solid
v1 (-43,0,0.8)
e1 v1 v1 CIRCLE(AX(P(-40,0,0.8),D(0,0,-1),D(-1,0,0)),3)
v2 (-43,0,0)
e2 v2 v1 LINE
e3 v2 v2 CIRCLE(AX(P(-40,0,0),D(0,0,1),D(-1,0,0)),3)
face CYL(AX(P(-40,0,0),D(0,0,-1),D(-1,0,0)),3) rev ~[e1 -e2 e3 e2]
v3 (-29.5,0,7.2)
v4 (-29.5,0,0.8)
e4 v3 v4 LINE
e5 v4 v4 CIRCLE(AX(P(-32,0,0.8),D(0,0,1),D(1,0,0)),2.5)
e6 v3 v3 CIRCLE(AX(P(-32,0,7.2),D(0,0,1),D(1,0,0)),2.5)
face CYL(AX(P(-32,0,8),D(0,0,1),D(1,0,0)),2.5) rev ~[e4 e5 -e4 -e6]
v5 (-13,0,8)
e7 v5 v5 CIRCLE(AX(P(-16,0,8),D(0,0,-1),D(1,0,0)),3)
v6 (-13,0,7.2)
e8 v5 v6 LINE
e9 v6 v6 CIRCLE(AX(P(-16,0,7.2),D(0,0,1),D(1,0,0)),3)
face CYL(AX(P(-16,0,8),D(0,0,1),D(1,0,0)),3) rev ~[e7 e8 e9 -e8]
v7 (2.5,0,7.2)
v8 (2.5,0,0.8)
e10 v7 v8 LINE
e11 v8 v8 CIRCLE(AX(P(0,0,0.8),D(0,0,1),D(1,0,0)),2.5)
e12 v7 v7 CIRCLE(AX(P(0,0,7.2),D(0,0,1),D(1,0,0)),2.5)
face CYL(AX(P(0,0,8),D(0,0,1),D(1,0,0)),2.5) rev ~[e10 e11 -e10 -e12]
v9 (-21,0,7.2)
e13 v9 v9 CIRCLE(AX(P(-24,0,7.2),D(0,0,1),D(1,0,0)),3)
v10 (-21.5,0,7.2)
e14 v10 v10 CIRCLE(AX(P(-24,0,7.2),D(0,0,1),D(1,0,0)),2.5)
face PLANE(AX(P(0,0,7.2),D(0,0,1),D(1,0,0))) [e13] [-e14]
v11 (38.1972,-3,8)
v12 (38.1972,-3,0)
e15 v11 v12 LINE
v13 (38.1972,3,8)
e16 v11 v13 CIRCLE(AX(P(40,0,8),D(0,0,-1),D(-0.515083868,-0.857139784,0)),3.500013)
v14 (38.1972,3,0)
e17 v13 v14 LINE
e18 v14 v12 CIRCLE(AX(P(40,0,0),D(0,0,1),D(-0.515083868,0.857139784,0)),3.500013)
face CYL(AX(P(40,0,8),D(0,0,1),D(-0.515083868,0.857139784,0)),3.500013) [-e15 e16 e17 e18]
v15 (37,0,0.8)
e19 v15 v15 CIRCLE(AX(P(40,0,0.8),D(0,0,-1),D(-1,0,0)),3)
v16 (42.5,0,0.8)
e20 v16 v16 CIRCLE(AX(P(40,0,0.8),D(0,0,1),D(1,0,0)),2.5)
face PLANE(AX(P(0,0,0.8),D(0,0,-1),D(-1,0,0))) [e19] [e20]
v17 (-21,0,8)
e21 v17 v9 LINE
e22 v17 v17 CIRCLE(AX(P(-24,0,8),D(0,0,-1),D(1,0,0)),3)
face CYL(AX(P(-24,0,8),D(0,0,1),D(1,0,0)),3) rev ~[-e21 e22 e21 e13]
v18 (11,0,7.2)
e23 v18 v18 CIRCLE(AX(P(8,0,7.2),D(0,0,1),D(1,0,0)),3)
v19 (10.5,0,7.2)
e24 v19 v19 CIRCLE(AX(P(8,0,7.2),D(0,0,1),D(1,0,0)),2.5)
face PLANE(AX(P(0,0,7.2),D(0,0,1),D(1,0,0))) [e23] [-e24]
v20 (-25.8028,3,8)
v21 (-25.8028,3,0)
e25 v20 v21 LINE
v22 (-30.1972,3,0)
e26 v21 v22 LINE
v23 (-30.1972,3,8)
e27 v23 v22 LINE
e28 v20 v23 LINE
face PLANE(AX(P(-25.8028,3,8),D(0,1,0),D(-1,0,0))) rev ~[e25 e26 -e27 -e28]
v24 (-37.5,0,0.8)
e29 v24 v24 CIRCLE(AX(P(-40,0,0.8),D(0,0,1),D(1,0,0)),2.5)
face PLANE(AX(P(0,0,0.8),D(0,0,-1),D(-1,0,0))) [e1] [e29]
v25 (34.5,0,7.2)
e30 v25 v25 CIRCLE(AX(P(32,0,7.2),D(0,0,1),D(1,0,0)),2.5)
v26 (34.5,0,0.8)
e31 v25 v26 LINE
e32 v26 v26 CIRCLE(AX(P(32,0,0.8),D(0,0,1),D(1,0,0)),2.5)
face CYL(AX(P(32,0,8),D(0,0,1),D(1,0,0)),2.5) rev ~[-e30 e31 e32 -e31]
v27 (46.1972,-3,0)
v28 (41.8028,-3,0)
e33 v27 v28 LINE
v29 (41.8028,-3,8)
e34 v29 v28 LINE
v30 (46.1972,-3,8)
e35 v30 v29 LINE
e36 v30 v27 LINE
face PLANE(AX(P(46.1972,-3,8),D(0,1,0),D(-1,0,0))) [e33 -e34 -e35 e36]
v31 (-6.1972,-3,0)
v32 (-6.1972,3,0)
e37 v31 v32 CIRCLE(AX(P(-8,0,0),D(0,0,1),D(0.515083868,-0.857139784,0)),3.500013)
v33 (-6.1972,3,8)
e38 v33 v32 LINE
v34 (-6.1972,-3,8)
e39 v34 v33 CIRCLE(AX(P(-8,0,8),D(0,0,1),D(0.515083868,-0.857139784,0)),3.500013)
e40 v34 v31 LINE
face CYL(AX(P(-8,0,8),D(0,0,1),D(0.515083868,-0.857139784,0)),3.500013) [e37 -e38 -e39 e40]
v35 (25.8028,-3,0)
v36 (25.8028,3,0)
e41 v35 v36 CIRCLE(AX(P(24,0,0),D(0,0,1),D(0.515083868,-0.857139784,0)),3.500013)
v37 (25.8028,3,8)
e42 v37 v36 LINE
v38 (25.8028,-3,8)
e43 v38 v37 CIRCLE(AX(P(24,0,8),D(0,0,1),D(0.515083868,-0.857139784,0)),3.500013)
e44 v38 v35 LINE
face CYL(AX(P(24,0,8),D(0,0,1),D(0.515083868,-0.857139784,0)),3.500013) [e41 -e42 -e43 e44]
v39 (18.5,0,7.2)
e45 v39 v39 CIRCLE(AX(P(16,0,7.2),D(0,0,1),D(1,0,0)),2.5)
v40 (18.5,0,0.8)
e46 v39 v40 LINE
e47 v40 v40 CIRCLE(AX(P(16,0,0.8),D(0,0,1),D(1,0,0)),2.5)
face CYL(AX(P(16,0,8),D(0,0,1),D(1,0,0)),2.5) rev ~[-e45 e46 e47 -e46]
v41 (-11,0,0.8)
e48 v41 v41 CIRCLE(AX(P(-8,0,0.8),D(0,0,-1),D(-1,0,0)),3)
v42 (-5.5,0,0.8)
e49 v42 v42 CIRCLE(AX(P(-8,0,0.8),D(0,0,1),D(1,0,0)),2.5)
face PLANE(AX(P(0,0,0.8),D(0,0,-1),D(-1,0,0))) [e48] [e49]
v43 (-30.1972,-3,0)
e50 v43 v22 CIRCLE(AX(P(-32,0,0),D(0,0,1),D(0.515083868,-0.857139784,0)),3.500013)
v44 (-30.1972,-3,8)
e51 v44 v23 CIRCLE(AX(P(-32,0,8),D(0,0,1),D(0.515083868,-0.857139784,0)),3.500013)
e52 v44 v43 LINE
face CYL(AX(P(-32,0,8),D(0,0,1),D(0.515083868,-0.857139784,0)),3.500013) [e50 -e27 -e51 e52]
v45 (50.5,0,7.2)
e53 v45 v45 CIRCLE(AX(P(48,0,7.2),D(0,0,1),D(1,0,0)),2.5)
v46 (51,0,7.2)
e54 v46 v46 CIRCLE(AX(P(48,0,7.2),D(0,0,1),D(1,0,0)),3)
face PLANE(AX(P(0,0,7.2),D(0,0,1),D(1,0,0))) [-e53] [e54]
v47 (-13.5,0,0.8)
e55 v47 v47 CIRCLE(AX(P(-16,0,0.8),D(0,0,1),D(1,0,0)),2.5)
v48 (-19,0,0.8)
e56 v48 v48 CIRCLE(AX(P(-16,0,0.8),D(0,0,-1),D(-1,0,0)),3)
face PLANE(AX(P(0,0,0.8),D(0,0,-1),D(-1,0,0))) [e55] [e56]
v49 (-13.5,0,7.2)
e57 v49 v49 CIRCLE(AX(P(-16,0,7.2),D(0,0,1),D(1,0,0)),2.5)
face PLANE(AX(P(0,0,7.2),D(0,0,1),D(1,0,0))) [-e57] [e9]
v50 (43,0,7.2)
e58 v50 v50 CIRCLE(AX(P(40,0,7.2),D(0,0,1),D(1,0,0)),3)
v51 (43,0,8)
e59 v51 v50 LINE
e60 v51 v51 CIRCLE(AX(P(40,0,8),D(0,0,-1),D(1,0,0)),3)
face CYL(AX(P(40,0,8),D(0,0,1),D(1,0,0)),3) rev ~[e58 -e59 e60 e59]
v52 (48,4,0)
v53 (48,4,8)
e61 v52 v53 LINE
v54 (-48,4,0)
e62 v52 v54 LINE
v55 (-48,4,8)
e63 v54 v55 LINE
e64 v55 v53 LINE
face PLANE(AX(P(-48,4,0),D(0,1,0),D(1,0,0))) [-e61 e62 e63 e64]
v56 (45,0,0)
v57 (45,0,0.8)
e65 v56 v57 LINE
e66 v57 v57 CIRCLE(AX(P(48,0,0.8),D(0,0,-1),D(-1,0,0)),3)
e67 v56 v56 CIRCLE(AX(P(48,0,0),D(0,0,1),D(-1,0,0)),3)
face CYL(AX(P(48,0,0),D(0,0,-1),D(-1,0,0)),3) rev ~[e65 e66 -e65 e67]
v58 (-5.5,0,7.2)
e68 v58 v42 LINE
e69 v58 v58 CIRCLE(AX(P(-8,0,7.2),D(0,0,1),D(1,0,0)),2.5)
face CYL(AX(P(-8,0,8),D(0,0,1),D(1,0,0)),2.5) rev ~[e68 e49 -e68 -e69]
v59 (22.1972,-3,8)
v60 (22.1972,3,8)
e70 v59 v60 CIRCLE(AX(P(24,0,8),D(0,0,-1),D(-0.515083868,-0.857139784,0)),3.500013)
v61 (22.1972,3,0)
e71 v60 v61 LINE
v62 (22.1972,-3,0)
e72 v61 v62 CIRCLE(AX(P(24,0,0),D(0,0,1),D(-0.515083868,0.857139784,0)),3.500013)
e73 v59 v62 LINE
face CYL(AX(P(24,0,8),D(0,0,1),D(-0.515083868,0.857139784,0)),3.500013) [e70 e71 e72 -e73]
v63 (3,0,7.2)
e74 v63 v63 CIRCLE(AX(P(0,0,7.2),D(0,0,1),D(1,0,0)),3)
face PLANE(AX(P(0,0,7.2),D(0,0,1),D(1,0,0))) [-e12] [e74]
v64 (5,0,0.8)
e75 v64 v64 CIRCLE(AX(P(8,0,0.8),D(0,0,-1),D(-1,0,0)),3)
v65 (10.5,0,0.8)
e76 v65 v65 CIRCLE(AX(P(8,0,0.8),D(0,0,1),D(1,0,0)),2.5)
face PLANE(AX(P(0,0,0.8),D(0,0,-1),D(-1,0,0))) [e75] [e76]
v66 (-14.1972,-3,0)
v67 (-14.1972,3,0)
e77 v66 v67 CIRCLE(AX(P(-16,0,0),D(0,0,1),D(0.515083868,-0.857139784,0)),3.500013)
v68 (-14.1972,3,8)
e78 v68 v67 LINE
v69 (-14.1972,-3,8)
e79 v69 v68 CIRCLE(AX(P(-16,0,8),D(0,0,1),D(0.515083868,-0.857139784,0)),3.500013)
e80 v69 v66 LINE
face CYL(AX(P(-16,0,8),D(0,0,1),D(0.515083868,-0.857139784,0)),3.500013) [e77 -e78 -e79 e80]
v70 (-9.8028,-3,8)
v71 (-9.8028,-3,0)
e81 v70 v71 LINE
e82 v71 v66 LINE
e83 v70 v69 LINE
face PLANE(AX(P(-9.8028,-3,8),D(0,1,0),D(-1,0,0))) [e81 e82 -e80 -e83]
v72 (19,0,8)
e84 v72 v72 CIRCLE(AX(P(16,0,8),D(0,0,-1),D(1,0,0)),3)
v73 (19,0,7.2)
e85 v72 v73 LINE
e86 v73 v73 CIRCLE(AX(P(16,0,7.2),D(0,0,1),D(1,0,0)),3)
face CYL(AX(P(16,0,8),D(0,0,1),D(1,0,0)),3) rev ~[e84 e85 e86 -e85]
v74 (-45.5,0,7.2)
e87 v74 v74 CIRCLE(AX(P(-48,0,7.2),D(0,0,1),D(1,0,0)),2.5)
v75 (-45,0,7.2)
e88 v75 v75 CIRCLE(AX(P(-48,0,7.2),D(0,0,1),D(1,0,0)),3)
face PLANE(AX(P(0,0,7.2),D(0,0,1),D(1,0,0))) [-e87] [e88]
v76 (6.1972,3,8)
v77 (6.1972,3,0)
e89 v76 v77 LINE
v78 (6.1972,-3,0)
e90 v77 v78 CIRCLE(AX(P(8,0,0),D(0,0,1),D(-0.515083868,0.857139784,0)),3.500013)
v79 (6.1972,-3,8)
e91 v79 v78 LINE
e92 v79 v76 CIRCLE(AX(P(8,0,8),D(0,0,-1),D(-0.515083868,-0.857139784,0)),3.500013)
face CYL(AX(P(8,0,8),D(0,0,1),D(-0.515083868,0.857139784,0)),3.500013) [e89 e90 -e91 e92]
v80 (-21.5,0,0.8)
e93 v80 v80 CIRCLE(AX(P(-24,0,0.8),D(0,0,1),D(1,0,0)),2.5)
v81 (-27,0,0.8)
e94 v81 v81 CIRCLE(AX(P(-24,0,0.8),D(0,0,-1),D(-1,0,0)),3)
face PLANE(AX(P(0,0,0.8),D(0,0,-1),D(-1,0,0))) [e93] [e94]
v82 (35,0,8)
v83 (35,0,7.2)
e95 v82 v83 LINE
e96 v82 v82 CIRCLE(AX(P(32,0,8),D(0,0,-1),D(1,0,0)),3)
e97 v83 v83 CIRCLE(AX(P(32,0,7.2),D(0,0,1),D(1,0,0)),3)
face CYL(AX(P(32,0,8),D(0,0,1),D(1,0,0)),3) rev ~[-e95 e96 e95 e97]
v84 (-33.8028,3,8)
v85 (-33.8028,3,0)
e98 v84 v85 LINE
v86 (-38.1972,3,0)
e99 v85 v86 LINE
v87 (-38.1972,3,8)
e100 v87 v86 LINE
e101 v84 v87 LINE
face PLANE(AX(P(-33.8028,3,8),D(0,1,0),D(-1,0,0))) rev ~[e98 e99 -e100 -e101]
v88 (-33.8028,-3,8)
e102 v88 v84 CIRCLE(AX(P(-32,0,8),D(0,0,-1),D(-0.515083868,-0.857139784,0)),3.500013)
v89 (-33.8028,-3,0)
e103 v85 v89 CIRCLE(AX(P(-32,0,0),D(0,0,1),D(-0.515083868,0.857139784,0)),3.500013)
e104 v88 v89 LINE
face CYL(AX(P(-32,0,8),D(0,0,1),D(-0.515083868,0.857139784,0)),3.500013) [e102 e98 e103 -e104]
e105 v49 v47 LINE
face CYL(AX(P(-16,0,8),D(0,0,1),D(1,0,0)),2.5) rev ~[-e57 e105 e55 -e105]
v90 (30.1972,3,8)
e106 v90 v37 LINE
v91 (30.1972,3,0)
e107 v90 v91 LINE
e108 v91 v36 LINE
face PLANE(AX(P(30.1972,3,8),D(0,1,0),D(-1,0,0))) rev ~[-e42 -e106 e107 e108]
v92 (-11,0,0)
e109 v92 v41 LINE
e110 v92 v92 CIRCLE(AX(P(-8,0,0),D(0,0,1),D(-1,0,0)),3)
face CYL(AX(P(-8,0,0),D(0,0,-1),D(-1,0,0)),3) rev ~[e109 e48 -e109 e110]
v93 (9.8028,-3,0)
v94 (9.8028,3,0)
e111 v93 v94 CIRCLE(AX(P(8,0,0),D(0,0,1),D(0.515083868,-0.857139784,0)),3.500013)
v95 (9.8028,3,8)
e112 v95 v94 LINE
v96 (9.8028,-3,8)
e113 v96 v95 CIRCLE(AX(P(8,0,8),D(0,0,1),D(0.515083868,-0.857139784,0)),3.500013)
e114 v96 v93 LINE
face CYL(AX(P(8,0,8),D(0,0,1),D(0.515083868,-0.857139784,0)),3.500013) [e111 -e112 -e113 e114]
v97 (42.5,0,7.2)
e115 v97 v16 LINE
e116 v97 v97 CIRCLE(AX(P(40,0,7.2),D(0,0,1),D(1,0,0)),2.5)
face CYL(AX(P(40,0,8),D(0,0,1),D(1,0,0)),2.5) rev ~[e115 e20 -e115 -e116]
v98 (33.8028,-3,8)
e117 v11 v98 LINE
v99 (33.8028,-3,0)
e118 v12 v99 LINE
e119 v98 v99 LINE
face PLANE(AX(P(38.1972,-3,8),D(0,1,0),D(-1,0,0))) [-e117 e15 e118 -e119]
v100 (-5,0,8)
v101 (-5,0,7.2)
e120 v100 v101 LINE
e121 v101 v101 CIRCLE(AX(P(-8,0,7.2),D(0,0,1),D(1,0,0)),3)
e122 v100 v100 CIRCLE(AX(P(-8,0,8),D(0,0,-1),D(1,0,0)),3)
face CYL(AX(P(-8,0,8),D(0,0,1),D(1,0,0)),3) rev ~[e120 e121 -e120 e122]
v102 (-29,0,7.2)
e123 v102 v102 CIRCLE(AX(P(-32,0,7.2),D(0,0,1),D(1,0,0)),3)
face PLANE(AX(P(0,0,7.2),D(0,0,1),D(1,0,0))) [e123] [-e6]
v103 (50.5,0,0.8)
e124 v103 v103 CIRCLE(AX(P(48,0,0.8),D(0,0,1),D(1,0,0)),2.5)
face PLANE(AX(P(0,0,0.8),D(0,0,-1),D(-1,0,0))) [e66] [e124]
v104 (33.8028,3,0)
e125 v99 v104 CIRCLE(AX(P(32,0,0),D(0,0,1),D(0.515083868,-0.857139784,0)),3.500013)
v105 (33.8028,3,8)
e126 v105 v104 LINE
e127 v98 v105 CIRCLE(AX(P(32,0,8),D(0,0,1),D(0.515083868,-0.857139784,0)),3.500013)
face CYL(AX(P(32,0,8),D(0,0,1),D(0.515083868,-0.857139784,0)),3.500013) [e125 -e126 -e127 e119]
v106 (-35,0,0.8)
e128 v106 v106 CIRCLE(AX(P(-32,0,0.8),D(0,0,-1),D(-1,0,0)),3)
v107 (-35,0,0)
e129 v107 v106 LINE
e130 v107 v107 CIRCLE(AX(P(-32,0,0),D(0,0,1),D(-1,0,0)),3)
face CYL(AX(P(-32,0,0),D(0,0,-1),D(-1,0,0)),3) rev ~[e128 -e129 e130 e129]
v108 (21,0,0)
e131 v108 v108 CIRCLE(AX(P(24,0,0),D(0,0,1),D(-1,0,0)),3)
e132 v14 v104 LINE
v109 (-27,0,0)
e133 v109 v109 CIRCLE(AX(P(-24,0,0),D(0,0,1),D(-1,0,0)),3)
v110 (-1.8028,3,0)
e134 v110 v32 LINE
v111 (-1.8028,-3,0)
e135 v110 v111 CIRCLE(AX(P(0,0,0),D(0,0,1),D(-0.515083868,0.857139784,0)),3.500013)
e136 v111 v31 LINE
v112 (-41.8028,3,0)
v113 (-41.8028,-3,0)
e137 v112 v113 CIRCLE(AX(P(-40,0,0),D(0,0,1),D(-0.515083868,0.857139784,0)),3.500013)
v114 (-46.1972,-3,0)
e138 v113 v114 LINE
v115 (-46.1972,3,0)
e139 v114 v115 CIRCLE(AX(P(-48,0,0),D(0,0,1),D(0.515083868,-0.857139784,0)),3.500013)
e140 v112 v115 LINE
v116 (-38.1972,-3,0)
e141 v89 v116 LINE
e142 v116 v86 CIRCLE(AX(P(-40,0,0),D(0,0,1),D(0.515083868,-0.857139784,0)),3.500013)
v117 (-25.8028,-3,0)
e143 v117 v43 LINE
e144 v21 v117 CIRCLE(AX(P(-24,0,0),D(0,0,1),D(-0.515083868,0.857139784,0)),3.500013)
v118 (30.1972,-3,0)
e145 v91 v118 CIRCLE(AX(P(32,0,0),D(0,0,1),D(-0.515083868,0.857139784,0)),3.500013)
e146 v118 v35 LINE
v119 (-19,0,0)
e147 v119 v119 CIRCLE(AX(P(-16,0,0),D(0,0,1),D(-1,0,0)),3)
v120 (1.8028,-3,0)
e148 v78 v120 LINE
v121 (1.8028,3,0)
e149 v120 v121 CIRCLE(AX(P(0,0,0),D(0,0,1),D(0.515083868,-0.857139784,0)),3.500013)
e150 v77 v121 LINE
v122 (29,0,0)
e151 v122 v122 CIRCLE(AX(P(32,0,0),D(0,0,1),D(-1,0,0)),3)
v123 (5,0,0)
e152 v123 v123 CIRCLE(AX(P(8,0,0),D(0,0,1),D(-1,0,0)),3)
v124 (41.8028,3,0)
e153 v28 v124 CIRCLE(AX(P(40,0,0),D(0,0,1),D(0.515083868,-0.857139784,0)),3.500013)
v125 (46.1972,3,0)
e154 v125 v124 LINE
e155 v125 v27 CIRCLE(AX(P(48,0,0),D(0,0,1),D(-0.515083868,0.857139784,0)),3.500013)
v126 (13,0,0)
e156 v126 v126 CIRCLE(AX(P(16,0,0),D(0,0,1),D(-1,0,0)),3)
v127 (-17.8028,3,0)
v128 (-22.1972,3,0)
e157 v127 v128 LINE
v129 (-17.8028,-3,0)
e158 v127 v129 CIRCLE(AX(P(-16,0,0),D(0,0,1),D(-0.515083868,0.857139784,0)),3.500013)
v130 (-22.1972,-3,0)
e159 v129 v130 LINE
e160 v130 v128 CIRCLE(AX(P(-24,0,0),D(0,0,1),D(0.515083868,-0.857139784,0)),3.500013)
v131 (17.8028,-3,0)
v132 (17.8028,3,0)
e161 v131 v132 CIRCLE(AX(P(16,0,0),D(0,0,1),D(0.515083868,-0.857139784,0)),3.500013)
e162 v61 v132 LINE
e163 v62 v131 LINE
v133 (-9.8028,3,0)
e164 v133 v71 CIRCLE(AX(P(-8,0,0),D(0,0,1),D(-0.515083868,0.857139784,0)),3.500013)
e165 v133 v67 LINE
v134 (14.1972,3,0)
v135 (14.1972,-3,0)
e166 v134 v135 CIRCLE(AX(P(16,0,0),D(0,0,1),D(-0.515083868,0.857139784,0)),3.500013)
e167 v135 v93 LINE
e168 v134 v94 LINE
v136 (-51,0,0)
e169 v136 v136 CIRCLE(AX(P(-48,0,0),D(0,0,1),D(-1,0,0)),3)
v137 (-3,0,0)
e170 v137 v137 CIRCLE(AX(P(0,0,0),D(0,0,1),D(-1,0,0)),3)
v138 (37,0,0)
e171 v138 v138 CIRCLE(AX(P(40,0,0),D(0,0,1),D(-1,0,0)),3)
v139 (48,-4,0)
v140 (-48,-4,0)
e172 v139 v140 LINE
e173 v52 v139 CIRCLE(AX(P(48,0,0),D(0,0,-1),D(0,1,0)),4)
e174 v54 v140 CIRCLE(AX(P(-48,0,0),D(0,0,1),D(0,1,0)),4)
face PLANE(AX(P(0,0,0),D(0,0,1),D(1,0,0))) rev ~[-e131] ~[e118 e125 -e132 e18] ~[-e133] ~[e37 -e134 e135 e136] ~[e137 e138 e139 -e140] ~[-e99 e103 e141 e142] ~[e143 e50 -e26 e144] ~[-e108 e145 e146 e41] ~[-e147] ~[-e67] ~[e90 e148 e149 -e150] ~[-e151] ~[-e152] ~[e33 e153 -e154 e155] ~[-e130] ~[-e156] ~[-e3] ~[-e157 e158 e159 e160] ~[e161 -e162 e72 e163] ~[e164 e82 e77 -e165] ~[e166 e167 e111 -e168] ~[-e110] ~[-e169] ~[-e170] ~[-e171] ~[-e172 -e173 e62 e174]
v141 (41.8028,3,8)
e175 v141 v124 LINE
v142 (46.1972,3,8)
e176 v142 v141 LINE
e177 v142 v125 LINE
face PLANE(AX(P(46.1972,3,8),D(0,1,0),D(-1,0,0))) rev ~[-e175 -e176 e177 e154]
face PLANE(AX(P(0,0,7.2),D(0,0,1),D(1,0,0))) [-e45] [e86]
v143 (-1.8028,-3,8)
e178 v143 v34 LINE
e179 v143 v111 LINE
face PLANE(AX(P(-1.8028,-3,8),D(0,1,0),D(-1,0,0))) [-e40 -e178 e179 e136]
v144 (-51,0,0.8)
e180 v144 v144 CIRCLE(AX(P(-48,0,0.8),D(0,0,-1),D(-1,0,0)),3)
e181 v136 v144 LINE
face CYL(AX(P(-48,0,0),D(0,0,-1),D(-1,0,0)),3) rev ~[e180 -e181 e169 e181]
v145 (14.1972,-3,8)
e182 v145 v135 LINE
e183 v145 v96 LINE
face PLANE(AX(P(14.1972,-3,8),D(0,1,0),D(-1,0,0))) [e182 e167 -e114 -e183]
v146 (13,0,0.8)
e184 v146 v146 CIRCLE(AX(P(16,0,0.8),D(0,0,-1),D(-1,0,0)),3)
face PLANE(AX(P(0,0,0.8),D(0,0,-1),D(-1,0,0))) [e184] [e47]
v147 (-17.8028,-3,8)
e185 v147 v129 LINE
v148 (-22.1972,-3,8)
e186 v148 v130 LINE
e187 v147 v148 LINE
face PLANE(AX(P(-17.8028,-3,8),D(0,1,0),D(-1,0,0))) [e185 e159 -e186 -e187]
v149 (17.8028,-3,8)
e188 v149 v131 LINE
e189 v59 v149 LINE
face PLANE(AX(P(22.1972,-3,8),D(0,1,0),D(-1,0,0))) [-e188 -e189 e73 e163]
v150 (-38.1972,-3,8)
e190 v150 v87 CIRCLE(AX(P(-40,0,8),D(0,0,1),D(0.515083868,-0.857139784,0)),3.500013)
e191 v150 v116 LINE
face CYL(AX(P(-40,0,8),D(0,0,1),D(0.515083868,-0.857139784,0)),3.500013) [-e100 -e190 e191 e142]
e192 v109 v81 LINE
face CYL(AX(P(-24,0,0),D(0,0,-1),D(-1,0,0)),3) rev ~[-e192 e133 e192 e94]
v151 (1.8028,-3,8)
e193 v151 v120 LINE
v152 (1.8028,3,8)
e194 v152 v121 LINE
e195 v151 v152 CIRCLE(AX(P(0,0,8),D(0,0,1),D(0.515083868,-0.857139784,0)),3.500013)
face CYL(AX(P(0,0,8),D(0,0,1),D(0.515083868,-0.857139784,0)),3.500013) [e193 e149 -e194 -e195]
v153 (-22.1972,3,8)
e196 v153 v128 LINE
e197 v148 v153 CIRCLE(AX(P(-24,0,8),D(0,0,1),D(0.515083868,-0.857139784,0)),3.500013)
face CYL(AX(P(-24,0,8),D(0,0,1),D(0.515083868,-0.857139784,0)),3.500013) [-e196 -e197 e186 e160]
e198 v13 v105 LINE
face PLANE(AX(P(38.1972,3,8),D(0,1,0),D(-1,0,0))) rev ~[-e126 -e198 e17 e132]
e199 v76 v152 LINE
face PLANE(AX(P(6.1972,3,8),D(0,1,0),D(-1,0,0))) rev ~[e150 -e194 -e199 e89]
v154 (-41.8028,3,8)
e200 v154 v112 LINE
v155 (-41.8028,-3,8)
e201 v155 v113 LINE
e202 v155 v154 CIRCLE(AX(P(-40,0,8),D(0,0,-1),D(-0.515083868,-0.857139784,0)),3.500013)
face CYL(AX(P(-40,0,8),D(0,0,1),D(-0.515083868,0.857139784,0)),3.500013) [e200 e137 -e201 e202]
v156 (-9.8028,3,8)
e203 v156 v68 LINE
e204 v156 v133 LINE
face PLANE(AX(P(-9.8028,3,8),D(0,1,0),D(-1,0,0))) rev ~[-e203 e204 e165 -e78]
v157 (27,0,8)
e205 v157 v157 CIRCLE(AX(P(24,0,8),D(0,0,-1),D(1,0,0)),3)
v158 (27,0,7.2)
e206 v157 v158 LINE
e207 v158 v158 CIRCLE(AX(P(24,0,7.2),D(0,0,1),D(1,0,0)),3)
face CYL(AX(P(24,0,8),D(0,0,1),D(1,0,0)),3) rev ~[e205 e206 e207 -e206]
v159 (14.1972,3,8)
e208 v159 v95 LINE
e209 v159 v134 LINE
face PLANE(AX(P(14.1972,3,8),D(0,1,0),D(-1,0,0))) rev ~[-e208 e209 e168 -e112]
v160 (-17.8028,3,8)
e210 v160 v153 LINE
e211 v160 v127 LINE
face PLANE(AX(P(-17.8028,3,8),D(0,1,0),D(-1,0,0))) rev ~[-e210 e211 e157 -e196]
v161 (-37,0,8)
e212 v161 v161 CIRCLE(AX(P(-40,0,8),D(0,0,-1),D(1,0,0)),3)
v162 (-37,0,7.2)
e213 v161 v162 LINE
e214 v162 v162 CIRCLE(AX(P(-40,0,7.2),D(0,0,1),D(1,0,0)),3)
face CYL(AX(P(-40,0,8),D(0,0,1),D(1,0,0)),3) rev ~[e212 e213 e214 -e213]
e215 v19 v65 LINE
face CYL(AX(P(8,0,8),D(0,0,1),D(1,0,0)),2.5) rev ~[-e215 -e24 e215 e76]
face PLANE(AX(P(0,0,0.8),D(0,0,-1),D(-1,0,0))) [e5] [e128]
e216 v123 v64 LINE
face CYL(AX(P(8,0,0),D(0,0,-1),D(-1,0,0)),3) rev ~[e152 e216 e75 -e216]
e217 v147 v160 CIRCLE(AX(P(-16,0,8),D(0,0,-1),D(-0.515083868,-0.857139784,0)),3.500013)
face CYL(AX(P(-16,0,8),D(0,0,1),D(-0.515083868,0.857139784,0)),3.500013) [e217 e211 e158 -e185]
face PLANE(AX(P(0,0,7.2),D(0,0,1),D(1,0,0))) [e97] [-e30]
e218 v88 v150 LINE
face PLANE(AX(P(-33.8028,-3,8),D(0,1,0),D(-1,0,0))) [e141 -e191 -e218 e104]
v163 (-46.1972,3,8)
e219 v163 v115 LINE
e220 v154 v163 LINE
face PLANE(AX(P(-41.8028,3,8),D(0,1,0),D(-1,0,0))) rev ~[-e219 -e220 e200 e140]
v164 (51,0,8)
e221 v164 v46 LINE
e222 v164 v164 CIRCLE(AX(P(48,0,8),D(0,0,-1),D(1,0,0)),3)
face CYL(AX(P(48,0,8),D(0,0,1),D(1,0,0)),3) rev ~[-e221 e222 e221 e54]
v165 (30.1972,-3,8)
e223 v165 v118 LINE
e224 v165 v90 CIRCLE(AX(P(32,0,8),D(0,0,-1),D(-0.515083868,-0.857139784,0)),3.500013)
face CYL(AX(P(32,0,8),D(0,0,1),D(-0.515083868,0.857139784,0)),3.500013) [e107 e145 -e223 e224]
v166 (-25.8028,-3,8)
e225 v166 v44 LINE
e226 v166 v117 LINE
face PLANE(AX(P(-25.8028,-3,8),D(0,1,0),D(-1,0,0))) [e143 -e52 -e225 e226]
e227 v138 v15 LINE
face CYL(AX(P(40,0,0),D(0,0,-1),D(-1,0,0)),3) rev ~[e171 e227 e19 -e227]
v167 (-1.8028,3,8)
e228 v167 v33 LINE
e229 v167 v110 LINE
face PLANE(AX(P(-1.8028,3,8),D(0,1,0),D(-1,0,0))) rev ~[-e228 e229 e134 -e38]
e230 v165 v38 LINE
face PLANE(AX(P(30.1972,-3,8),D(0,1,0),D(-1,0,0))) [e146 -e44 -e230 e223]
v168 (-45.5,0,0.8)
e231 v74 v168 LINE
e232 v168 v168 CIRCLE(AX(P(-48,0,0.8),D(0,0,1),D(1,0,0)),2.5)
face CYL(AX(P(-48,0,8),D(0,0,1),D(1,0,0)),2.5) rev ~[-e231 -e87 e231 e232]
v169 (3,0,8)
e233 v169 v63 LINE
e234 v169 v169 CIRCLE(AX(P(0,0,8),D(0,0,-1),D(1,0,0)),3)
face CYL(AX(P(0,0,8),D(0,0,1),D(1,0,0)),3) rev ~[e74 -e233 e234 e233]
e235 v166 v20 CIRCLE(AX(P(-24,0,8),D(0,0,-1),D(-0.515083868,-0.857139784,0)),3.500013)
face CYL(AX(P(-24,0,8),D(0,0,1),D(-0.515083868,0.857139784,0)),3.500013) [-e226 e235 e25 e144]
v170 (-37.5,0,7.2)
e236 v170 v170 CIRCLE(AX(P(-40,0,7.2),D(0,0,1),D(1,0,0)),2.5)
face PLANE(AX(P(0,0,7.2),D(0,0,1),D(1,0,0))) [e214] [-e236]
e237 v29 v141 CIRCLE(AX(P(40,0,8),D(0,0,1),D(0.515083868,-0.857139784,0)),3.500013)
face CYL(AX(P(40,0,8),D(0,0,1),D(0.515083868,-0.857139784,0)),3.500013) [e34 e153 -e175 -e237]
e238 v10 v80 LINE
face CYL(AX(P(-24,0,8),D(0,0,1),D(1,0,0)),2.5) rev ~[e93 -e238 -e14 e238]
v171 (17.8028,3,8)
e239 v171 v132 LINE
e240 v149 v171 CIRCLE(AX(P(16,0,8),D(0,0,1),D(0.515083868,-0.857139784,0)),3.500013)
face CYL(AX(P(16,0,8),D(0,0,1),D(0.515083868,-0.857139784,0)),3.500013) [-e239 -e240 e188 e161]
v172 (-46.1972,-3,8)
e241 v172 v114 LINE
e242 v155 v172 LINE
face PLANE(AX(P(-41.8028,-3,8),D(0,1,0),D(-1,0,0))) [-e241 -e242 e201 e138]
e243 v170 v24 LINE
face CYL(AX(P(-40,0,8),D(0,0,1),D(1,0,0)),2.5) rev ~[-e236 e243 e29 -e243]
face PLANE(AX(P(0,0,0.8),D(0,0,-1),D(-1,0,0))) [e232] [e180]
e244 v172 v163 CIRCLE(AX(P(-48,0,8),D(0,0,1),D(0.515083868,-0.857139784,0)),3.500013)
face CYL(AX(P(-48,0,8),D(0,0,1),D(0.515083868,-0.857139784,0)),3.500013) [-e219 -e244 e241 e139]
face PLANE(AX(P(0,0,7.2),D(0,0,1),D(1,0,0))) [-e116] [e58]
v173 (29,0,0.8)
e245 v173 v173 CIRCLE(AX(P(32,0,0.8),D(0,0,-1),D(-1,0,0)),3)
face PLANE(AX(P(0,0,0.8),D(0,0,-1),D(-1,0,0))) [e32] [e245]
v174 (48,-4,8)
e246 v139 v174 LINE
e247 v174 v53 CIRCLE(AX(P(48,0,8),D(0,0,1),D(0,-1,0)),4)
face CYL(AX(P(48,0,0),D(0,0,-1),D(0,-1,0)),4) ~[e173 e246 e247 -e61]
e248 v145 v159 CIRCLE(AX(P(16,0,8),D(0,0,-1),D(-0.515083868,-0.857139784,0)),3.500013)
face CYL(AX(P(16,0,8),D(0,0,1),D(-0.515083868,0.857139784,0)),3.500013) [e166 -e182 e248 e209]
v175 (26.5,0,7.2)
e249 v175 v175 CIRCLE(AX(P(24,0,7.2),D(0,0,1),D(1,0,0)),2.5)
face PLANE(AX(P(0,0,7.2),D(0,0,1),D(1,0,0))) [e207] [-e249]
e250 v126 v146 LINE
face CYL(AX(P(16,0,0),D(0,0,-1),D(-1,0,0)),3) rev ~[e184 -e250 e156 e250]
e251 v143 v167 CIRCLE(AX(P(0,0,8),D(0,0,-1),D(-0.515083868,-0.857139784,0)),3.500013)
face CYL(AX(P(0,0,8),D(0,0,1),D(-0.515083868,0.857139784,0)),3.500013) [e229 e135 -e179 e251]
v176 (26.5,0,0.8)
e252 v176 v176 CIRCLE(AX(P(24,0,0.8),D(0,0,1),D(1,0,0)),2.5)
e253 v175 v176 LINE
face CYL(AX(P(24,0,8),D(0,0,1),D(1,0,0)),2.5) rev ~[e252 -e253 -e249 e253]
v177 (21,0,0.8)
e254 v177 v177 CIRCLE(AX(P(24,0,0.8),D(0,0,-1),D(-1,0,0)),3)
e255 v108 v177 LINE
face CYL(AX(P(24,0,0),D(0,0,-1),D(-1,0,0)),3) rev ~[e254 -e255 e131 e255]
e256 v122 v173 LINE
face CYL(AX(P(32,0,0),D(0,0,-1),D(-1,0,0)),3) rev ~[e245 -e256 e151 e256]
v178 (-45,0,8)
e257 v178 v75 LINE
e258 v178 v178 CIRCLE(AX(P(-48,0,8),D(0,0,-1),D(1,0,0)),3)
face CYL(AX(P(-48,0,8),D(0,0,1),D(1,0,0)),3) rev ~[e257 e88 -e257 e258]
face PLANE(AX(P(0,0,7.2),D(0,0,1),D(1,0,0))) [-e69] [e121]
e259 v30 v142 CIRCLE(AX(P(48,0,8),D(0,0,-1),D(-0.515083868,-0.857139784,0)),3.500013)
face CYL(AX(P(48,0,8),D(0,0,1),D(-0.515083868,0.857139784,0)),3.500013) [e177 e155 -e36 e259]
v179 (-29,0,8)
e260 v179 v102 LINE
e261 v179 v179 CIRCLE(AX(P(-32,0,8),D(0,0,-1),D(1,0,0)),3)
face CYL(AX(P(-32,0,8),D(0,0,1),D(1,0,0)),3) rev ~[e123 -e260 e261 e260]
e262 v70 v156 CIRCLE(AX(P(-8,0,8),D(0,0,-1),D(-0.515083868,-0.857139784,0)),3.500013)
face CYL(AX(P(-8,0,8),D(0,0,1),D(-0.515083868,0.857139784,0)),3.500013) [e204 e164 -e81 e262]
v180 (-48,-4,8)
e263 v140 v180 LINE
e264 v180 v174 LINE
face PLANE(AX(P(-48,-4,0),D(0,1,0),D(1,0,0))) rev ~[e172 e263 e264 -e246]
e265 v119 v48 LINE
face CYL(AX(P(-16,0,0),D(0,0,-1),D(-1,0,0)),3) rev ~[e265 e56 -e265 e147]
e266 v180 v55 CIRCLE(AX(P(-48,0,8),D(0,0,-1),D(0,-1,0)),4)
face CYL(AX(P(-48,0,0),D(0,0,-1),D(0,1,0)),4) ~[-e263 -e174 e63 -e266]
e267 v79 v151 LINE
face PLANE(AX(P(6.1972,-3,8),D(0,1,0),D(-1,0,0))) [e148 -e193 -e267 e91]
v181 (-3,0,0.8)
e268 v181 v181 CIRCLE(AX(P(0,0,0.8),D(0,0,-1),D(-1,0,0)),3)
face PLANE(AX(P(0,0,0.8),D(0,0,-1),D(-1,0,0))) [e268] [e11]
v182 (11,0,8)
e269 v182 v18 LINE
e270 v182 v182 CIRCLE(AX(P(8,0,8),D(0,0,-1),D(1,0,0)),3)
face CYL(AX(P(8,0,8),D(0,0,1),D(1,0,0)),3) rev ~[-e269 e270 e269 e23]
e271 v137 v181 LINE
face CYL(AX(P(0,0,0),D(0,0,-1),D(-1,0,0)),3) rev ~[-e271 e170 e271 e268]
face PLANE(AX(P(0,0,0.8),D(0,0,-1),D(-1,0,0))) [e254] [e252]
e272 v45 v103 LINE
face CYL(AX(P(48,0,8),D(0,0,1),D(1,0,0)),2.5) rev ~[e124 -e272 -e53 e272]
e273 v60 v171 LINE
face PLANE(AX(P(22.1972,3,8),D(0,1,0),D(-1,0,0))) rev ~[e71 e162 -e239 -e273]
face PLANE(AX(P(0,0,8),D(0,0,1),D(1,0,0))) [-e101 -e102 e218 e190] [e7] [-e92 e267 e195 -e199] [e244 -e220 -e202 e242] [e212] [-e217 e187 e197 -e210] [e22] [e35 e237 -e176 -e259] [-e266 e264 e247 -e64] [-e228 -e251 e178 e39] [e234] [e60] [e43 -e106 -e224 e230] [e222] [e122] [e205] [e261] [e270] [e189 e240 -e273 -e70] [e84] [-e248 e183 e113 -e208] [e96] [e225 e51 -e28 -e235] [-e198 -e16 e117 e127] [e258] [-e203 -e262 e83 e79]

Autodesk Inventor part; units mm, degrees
ref_plane "YZ Plane" through (0, 0, 0) normal (1, 0, 0) x (0, 1, 0)
ref_plane "XZ Plane" through (0, 0, 0) normal (0, 1, 0) x (-1, 0, 0)
ref_plane "XY Plane" through (0, 0, 0) normal (0, 0, 1) x (1, 0, 0)
sketch "Sketch2" plane through (0, 0, 0) normal (0, 0, 1) x (1, 0, 0)
  arc A0 (-48, 4) -> (-48, -4) centre (-48, 0) ccw
  arc A1 (48, -4) -> (48, 4) centre (48, 0) ccw
  line L0 (-48, 4) -> (48, 4)
  line L1 (-48, -4) -> (48, -4)
  line L2 (-72.8, 0) -> (72.8, 0) projected
  line L3 (0, -5.6) -> (0, 5.6) projected
  point P0 (0, 0)
  dimension "d0" = 4
  dimension "d1" = 4
  dimension "d2" = 96
  dimension "d3" = 0
  dimension "d4" = 48
  dimension "d9" = 180
  dimension "d10" = 0
  dimension "d225" = 96
extrude "Extrusion1" add sketch "Sketch2" along normal blind 8
sketch "Sketch23" plane through (0, 0, 8) normal (0, 0, 1) x (1, 0, 0)
  arc A0 (-48, 4) -> (-48, -4) centre (-48, 0) ccw projected
  circle A1 centre (-48, 0) radius 2.5
  line L0 (-72.8, 0) -> (72.8, 0) projected
  circle A2 centre (-40, 0) radius 2.5
  circle A3 centre (-32, 0) radius 2.5
  circle A4 centre (-24, 0) radius 2.5
  circle A5 centre (-16, 0) radius 2.5
  circle A6 centre (-8, 0) radius 2.5
  circle A7 centre (0, 0) radius 2.5
  circle A8 centre (8, 0) radius 2.5
  circle A9 centre (16, 0) radius 2.5
  circle A10 centre (24, 0) radius 2.5
  circle A11 centre (32, 0) radius 2.5
  circle A12 centre (40, 0) radius 2.5
  circle A13 centre (48, 0) radius 2.5
  dimension "d226" = 5
  dimension "d232" = 8
extrude "Extrusion22" cut sketch "Sketch23" against normal through all
sketch "Sketch24" plane through (0, 0, 8) normal (0, 0, 1) x (1, 0, 0)
  circle A0 centre (48, 0) radius 2.5 projected
  circle A1 centre (40, 0) radius 2.5 projected
  circle A2 centre (32, 0) radius 2.5 projected
  circle A3 centre (24, 0) radius 2.5 projected
  circle A4 centre (16, 0) radius 2.5 projected
  circle A5 centre (8, 0) radius 2.5 projected
  circle A6 centre (0, 0) radius 2.5 projected
  circle A7 centre (-8, 0) radius 2.5 projected
  circle A8 centre (-16, 0) radius 2.5 projected
  circle A9 centre (-24, 0) radius 2.5 projected
  circle A10 centre (-32, 0) radius 2.5 projected
  circle A11 centre (-40, 0) radius 2.5 projected
  circle A12 centre (-48, 0) radius 2.5 projected
  arc A13 (-48, 4) -> (-48, -4) centre (-48, 0) ccw projected
  circle A14 centre (-48, 0) radius 3
  line L0 (-72.8, 0) -> (72.8, 0) projected
  circle A15 centre (-40, 0) radius 3
  circle A16 centre (-32, 0) radius 3
  circle A17 centre (-24, 0) radius 3
  circle A18 centre (-16, 0) radius 3
  circle A19 centre (-8, 0) radius 3
  circle A20 centre (0, 0) radius 3
  circle A21 centre (8, 0) radius 3
  circle A22 centre (16, 0) radius 3
  circle A23 centre (24, 0) radius 3
  circle A24 centre (32, 0) radius 3
  circle A25 centre (40, 0) radius 3
  circle A26 centre (48, 0) radius 3
  dimension "d236" = 6
  dimension "d242" = 8
extrude "Extrusion23" cut sketch "Sketch24" against normal blind 0.8 contours L0 A26 A0 | A0 L0 A26 | A14 L0 A12 | L0 A12 A14 | A15 L0 A11 | L0 A11 A15 | A16 L0 A10 | L0 A10 A16 | A17 L0 A9 | L0 A9 A17 | A18 L0 A8 | L0 A8 A18 | A19 L0 A7 | L0 A7 A19 | A20 L0 A6 | L0 A6 A20 | A21 L0 A5 | L0 A5 A21 | A22 L0 A4 | L0 A4 A22 | A23 L0 A3 | L0 A3 A23 | A24 L0 A2 | L0 A2 A24 | A25 L0 A1 | L0 A1 A25
sketch "Sketch25" plane through (0, 0, 0) normal (0, 0, -1) x (-1, 0, 0)
  circle A0 centre (-48, 0) radius 2.5 projected
  circle A1 centre (-40, 0) radius 2.5 projected
  circle A2 centre (-32, 0) radius 2.5 projected
  circle A3 centre (-24, 0) radius 2.5 projected
  circle A4 centre (-16, 0) radius 2.5 projected
  circle A5 centre (-8, 0) radius 2.5 projected
  circle A6 centre (0, 0) radius 2.5 projected
  circle A7 centre (8, 0) radius 2.5 projected
  circle A8 centre (16, 0) radius 2.5 projected
  circle A9 centre (24, 0) radius 2.5 projected
  circle A10 centre (32, 0) radius 2.5 projected
  circle A11 centre (40, 0) radius 2.5 projected
  circle A12 centre (48, 0) radius 2.5 projected
  arc A13 (-48, 4) -> (-48, -4) centre (-48, 0) ccw projected
  circle A14 centre (-48, 0) radius 3
  line L0 (72.8, 0) -> (-72.8, 0) projected
  circle A15 centre (-40, 0) radius 3
  circle A16 centre (-32, 0) radius 3
  circle A17 centre (-24, 0) radius 3
  circle A18 centre (-16, 0) radius 3
  circle A19 centre (-8, 0) radius 3
  circle A20 centre (0, 0) radius 3
  circle A21 centre (8, 0) radius 3
  circle A22 centre (16, 0) radius 3
  circle A23 centre (24, 0) radius 3
  circle A24 centre (32, 0) radius 3
  circle A25 centre (40, 0) radius 3
  circle A26 centre (48, 0) radius 3
  dimension "d246" = 6
  dimension "d252" = 8
extrude "Extrusion24" cut sketch "Sketch25" against normal blind 0.8 contours L0 A14 A0 | A0 L0 A14 | A26 L0 A12 | L0 A12 A26 | A25 L0 A11 | L0 A11 A25 | A24 L0 A10 | L0 A10 A24 | A23 L0 A9 | L0 A9 A23 | A22 L0 A8 | L0 A8 A22 | A21 L0 A7 | L0 A7 A21 | A20 L0 A6 | L0 A6 A20 | A19 L0 A5 | L0 A5 A19 | A18 L0 A4 | L0 A4 A18 | A17 L0 A3 | L0 A3 A17 | A16 L0 A2 | L0 A2 A16 | A15 L0 A1 | L0 A1 A15
sketch "Sketch26" plane through (0, 0, 8) normal (0, 0, 1) x (1, 0, 0)
  circle A0 centre (-48, 0) radius 3 projected
  circle A1 centre (-40, 0) radius 3 projected
  arc A2 (-48, 4) -> (-48, -4) centre (-48, 0) ccw projected
  line L0 (-41.8028, -3) -> (-46.1972, -3)
  line L1 (-41.8028, 3) -> (-46.1972, 3)
  arc A3 (-41.8028, 3) -> (-41.8028, -3) centre (-40, 0) ccw
  arc A4 (-46.1972, -3) -> (-46.1972, 3) centre (-48, 0) ccw
  line L2 (-72.8, 0) -> (72.8, 0) projected
  line L3 (-33.8028, -3) -> (-38.1972, -3)
  line L4 (-33.8028, 3) -> (-38.1972, 3)
  arc A5 (-33.8028, 3) -> (-33.8028, -3) centre (-32, 0) ccw
  arc A6 (-38.1972, -3) -> (-38.1972, 3) centre (-40, 0) ccw
  line L5 (-25.8028, -3) -> (-30.1972, -3)
  line L6 (-25.8028, 3) -> (-30.1972, 3)
  arc A7 (-25.8028, 3) -> (-25.8028, -3) centre (-24, 0) ccw
  arc A8 (-30.1972, -3) -> (-30.1972, 3) centre (-32, 0) ccw
  line L7 (-17.8028, -3) -> (-22.1972, -3)
  line L8 (-17.8028, 3) -> (-22.1972, 3)
  arc A9 (-17.8028, 3) -> (-17.8028, -3) centre (-16, 0) ccw
  arc A10 (-22.1972, -3) -> (-22.1972, 3) centre (-24, 0) ccw
  line L9 (-9.8028, -3) -> (-14.1972, -3)
  line L10 (-9.8028, 3) -> (-14.1972, 3)
  arc A11 (-9.8028, 3) -> (-9.8028, -3) centre (-8, 0) ccw
  arc A12 (-14.1972, -3) -> (-14.1972, 3) centre (-16, 0) ccw
  line L11 (-1.8028, -3) -> (-6.1972, -3)
  line L12 (-1.8028, 3) -> (-6.1972, 3)
  arc A13 (-1.8028, 3) -> (-1.8028, -3) centre (0, 0) ccw
  arc A14 (-6.1972, -3) -> (-6.1972, 3) centre (-8, 0) ccw
  line L13 (6.1972, -3) -> (1.8028, -3)
  line L14 (6.1972, 3) -> (1.8028, 3)
  arc A15 (6.1972, 3) -> (6.1972, -3) centre (8, 0) ccw
  arc A16 (1.8028, -3) -> (1.8028, 3) centre (0, 0) ccw
  line L15 (14.1972, -3) -> (9.8028, -3)
  line L16 (14.1972, 3) -> (9.8028, 3)
  arc A17 (14.1972, 3) -> (14.1972, -3) centre (16, 0) ccw
  arc A18 (9.8028, -3) -> (9.8028, 3) centre (8, 0) ccw
  line L17 (22.1972, -3) -> (17.8028, -3)
  line L18 (22.1972, 3) -> (17.8028, 3)
  arc A19 (22.1972, 3) -> (22.1972, -3) centre (24, 0) ccw
  arc A20 (17.8028, -3) -> (17.8028, 3) centre (16, 0) ccw
  line L19 (30.1972, -3) -> (25.8028, -3)
  line L20 (30.1972, 3) -> (25.8028, 3)
  arc A21 (30.1972, 3) -> (30.1972, -3) centre (32, 0) ccw
  arc A22 (25.8028, -3) -> (25.8028, 3) centre (24, 0) ccw
  line L21 (38.1972, -3) -> (33.8028, -3)
  line L22 (38.1972, 3) -> (33.8028, 3)
  arc A23 (38.1972, 3) -> (38.1972, -3) centre (40, 0) ccw
  arc A24 (33.8028, -3) -> (33.8028, 3) centre (32, 0) ccw
  line L23 (46.1972, -3) -> (41.8028, -3)
  line L24 (46.1972, 3) -> (41.8028, 3)
  arc A25 (46.1972, 3) -> (46.1972, -3) centre (48, 0) ccw
  arc A26 (41.8028, -3) -> (41.8028, 3) centre (40, 0) ccw
  dimension "d257" = 7
  dimension "d258" = 7
  dimension "d264" = 8
extrude "Extrusion25" cut sketch "Sketch26" against normal through all contours A26 L24 A25 L2 | L2 A25 L23 A26 | A24 L22 A23 L2 | L2 A23 L21 A24 | A22 L20 A21 L2 | L2 A21 L19 A22 | A20 L18 A19 L2 | L2 A19 L17 A20 | A18 L16 A17 L2 | L2 A17 L15 A18 | A16 L14 A15 L2 | L2 A15 L13 A16 | A14 L12 A13 L2 | L2 A13 L11 A14 | A12 L10 A11 L2 | L2 A11 L9 A12 | A10 L8 A9 L2 | L2 A9 L7 A10 | A8 L6 A7 L2 | L2 A7 L5 A8 | A6 L4 A5 L2 | L2 A5 L3 A6 | A4 L1 A3 L2 | L2 A3 L0 A4
equation "\"d4\" = 0.5 * d2"
properties part number "13M Beam"
